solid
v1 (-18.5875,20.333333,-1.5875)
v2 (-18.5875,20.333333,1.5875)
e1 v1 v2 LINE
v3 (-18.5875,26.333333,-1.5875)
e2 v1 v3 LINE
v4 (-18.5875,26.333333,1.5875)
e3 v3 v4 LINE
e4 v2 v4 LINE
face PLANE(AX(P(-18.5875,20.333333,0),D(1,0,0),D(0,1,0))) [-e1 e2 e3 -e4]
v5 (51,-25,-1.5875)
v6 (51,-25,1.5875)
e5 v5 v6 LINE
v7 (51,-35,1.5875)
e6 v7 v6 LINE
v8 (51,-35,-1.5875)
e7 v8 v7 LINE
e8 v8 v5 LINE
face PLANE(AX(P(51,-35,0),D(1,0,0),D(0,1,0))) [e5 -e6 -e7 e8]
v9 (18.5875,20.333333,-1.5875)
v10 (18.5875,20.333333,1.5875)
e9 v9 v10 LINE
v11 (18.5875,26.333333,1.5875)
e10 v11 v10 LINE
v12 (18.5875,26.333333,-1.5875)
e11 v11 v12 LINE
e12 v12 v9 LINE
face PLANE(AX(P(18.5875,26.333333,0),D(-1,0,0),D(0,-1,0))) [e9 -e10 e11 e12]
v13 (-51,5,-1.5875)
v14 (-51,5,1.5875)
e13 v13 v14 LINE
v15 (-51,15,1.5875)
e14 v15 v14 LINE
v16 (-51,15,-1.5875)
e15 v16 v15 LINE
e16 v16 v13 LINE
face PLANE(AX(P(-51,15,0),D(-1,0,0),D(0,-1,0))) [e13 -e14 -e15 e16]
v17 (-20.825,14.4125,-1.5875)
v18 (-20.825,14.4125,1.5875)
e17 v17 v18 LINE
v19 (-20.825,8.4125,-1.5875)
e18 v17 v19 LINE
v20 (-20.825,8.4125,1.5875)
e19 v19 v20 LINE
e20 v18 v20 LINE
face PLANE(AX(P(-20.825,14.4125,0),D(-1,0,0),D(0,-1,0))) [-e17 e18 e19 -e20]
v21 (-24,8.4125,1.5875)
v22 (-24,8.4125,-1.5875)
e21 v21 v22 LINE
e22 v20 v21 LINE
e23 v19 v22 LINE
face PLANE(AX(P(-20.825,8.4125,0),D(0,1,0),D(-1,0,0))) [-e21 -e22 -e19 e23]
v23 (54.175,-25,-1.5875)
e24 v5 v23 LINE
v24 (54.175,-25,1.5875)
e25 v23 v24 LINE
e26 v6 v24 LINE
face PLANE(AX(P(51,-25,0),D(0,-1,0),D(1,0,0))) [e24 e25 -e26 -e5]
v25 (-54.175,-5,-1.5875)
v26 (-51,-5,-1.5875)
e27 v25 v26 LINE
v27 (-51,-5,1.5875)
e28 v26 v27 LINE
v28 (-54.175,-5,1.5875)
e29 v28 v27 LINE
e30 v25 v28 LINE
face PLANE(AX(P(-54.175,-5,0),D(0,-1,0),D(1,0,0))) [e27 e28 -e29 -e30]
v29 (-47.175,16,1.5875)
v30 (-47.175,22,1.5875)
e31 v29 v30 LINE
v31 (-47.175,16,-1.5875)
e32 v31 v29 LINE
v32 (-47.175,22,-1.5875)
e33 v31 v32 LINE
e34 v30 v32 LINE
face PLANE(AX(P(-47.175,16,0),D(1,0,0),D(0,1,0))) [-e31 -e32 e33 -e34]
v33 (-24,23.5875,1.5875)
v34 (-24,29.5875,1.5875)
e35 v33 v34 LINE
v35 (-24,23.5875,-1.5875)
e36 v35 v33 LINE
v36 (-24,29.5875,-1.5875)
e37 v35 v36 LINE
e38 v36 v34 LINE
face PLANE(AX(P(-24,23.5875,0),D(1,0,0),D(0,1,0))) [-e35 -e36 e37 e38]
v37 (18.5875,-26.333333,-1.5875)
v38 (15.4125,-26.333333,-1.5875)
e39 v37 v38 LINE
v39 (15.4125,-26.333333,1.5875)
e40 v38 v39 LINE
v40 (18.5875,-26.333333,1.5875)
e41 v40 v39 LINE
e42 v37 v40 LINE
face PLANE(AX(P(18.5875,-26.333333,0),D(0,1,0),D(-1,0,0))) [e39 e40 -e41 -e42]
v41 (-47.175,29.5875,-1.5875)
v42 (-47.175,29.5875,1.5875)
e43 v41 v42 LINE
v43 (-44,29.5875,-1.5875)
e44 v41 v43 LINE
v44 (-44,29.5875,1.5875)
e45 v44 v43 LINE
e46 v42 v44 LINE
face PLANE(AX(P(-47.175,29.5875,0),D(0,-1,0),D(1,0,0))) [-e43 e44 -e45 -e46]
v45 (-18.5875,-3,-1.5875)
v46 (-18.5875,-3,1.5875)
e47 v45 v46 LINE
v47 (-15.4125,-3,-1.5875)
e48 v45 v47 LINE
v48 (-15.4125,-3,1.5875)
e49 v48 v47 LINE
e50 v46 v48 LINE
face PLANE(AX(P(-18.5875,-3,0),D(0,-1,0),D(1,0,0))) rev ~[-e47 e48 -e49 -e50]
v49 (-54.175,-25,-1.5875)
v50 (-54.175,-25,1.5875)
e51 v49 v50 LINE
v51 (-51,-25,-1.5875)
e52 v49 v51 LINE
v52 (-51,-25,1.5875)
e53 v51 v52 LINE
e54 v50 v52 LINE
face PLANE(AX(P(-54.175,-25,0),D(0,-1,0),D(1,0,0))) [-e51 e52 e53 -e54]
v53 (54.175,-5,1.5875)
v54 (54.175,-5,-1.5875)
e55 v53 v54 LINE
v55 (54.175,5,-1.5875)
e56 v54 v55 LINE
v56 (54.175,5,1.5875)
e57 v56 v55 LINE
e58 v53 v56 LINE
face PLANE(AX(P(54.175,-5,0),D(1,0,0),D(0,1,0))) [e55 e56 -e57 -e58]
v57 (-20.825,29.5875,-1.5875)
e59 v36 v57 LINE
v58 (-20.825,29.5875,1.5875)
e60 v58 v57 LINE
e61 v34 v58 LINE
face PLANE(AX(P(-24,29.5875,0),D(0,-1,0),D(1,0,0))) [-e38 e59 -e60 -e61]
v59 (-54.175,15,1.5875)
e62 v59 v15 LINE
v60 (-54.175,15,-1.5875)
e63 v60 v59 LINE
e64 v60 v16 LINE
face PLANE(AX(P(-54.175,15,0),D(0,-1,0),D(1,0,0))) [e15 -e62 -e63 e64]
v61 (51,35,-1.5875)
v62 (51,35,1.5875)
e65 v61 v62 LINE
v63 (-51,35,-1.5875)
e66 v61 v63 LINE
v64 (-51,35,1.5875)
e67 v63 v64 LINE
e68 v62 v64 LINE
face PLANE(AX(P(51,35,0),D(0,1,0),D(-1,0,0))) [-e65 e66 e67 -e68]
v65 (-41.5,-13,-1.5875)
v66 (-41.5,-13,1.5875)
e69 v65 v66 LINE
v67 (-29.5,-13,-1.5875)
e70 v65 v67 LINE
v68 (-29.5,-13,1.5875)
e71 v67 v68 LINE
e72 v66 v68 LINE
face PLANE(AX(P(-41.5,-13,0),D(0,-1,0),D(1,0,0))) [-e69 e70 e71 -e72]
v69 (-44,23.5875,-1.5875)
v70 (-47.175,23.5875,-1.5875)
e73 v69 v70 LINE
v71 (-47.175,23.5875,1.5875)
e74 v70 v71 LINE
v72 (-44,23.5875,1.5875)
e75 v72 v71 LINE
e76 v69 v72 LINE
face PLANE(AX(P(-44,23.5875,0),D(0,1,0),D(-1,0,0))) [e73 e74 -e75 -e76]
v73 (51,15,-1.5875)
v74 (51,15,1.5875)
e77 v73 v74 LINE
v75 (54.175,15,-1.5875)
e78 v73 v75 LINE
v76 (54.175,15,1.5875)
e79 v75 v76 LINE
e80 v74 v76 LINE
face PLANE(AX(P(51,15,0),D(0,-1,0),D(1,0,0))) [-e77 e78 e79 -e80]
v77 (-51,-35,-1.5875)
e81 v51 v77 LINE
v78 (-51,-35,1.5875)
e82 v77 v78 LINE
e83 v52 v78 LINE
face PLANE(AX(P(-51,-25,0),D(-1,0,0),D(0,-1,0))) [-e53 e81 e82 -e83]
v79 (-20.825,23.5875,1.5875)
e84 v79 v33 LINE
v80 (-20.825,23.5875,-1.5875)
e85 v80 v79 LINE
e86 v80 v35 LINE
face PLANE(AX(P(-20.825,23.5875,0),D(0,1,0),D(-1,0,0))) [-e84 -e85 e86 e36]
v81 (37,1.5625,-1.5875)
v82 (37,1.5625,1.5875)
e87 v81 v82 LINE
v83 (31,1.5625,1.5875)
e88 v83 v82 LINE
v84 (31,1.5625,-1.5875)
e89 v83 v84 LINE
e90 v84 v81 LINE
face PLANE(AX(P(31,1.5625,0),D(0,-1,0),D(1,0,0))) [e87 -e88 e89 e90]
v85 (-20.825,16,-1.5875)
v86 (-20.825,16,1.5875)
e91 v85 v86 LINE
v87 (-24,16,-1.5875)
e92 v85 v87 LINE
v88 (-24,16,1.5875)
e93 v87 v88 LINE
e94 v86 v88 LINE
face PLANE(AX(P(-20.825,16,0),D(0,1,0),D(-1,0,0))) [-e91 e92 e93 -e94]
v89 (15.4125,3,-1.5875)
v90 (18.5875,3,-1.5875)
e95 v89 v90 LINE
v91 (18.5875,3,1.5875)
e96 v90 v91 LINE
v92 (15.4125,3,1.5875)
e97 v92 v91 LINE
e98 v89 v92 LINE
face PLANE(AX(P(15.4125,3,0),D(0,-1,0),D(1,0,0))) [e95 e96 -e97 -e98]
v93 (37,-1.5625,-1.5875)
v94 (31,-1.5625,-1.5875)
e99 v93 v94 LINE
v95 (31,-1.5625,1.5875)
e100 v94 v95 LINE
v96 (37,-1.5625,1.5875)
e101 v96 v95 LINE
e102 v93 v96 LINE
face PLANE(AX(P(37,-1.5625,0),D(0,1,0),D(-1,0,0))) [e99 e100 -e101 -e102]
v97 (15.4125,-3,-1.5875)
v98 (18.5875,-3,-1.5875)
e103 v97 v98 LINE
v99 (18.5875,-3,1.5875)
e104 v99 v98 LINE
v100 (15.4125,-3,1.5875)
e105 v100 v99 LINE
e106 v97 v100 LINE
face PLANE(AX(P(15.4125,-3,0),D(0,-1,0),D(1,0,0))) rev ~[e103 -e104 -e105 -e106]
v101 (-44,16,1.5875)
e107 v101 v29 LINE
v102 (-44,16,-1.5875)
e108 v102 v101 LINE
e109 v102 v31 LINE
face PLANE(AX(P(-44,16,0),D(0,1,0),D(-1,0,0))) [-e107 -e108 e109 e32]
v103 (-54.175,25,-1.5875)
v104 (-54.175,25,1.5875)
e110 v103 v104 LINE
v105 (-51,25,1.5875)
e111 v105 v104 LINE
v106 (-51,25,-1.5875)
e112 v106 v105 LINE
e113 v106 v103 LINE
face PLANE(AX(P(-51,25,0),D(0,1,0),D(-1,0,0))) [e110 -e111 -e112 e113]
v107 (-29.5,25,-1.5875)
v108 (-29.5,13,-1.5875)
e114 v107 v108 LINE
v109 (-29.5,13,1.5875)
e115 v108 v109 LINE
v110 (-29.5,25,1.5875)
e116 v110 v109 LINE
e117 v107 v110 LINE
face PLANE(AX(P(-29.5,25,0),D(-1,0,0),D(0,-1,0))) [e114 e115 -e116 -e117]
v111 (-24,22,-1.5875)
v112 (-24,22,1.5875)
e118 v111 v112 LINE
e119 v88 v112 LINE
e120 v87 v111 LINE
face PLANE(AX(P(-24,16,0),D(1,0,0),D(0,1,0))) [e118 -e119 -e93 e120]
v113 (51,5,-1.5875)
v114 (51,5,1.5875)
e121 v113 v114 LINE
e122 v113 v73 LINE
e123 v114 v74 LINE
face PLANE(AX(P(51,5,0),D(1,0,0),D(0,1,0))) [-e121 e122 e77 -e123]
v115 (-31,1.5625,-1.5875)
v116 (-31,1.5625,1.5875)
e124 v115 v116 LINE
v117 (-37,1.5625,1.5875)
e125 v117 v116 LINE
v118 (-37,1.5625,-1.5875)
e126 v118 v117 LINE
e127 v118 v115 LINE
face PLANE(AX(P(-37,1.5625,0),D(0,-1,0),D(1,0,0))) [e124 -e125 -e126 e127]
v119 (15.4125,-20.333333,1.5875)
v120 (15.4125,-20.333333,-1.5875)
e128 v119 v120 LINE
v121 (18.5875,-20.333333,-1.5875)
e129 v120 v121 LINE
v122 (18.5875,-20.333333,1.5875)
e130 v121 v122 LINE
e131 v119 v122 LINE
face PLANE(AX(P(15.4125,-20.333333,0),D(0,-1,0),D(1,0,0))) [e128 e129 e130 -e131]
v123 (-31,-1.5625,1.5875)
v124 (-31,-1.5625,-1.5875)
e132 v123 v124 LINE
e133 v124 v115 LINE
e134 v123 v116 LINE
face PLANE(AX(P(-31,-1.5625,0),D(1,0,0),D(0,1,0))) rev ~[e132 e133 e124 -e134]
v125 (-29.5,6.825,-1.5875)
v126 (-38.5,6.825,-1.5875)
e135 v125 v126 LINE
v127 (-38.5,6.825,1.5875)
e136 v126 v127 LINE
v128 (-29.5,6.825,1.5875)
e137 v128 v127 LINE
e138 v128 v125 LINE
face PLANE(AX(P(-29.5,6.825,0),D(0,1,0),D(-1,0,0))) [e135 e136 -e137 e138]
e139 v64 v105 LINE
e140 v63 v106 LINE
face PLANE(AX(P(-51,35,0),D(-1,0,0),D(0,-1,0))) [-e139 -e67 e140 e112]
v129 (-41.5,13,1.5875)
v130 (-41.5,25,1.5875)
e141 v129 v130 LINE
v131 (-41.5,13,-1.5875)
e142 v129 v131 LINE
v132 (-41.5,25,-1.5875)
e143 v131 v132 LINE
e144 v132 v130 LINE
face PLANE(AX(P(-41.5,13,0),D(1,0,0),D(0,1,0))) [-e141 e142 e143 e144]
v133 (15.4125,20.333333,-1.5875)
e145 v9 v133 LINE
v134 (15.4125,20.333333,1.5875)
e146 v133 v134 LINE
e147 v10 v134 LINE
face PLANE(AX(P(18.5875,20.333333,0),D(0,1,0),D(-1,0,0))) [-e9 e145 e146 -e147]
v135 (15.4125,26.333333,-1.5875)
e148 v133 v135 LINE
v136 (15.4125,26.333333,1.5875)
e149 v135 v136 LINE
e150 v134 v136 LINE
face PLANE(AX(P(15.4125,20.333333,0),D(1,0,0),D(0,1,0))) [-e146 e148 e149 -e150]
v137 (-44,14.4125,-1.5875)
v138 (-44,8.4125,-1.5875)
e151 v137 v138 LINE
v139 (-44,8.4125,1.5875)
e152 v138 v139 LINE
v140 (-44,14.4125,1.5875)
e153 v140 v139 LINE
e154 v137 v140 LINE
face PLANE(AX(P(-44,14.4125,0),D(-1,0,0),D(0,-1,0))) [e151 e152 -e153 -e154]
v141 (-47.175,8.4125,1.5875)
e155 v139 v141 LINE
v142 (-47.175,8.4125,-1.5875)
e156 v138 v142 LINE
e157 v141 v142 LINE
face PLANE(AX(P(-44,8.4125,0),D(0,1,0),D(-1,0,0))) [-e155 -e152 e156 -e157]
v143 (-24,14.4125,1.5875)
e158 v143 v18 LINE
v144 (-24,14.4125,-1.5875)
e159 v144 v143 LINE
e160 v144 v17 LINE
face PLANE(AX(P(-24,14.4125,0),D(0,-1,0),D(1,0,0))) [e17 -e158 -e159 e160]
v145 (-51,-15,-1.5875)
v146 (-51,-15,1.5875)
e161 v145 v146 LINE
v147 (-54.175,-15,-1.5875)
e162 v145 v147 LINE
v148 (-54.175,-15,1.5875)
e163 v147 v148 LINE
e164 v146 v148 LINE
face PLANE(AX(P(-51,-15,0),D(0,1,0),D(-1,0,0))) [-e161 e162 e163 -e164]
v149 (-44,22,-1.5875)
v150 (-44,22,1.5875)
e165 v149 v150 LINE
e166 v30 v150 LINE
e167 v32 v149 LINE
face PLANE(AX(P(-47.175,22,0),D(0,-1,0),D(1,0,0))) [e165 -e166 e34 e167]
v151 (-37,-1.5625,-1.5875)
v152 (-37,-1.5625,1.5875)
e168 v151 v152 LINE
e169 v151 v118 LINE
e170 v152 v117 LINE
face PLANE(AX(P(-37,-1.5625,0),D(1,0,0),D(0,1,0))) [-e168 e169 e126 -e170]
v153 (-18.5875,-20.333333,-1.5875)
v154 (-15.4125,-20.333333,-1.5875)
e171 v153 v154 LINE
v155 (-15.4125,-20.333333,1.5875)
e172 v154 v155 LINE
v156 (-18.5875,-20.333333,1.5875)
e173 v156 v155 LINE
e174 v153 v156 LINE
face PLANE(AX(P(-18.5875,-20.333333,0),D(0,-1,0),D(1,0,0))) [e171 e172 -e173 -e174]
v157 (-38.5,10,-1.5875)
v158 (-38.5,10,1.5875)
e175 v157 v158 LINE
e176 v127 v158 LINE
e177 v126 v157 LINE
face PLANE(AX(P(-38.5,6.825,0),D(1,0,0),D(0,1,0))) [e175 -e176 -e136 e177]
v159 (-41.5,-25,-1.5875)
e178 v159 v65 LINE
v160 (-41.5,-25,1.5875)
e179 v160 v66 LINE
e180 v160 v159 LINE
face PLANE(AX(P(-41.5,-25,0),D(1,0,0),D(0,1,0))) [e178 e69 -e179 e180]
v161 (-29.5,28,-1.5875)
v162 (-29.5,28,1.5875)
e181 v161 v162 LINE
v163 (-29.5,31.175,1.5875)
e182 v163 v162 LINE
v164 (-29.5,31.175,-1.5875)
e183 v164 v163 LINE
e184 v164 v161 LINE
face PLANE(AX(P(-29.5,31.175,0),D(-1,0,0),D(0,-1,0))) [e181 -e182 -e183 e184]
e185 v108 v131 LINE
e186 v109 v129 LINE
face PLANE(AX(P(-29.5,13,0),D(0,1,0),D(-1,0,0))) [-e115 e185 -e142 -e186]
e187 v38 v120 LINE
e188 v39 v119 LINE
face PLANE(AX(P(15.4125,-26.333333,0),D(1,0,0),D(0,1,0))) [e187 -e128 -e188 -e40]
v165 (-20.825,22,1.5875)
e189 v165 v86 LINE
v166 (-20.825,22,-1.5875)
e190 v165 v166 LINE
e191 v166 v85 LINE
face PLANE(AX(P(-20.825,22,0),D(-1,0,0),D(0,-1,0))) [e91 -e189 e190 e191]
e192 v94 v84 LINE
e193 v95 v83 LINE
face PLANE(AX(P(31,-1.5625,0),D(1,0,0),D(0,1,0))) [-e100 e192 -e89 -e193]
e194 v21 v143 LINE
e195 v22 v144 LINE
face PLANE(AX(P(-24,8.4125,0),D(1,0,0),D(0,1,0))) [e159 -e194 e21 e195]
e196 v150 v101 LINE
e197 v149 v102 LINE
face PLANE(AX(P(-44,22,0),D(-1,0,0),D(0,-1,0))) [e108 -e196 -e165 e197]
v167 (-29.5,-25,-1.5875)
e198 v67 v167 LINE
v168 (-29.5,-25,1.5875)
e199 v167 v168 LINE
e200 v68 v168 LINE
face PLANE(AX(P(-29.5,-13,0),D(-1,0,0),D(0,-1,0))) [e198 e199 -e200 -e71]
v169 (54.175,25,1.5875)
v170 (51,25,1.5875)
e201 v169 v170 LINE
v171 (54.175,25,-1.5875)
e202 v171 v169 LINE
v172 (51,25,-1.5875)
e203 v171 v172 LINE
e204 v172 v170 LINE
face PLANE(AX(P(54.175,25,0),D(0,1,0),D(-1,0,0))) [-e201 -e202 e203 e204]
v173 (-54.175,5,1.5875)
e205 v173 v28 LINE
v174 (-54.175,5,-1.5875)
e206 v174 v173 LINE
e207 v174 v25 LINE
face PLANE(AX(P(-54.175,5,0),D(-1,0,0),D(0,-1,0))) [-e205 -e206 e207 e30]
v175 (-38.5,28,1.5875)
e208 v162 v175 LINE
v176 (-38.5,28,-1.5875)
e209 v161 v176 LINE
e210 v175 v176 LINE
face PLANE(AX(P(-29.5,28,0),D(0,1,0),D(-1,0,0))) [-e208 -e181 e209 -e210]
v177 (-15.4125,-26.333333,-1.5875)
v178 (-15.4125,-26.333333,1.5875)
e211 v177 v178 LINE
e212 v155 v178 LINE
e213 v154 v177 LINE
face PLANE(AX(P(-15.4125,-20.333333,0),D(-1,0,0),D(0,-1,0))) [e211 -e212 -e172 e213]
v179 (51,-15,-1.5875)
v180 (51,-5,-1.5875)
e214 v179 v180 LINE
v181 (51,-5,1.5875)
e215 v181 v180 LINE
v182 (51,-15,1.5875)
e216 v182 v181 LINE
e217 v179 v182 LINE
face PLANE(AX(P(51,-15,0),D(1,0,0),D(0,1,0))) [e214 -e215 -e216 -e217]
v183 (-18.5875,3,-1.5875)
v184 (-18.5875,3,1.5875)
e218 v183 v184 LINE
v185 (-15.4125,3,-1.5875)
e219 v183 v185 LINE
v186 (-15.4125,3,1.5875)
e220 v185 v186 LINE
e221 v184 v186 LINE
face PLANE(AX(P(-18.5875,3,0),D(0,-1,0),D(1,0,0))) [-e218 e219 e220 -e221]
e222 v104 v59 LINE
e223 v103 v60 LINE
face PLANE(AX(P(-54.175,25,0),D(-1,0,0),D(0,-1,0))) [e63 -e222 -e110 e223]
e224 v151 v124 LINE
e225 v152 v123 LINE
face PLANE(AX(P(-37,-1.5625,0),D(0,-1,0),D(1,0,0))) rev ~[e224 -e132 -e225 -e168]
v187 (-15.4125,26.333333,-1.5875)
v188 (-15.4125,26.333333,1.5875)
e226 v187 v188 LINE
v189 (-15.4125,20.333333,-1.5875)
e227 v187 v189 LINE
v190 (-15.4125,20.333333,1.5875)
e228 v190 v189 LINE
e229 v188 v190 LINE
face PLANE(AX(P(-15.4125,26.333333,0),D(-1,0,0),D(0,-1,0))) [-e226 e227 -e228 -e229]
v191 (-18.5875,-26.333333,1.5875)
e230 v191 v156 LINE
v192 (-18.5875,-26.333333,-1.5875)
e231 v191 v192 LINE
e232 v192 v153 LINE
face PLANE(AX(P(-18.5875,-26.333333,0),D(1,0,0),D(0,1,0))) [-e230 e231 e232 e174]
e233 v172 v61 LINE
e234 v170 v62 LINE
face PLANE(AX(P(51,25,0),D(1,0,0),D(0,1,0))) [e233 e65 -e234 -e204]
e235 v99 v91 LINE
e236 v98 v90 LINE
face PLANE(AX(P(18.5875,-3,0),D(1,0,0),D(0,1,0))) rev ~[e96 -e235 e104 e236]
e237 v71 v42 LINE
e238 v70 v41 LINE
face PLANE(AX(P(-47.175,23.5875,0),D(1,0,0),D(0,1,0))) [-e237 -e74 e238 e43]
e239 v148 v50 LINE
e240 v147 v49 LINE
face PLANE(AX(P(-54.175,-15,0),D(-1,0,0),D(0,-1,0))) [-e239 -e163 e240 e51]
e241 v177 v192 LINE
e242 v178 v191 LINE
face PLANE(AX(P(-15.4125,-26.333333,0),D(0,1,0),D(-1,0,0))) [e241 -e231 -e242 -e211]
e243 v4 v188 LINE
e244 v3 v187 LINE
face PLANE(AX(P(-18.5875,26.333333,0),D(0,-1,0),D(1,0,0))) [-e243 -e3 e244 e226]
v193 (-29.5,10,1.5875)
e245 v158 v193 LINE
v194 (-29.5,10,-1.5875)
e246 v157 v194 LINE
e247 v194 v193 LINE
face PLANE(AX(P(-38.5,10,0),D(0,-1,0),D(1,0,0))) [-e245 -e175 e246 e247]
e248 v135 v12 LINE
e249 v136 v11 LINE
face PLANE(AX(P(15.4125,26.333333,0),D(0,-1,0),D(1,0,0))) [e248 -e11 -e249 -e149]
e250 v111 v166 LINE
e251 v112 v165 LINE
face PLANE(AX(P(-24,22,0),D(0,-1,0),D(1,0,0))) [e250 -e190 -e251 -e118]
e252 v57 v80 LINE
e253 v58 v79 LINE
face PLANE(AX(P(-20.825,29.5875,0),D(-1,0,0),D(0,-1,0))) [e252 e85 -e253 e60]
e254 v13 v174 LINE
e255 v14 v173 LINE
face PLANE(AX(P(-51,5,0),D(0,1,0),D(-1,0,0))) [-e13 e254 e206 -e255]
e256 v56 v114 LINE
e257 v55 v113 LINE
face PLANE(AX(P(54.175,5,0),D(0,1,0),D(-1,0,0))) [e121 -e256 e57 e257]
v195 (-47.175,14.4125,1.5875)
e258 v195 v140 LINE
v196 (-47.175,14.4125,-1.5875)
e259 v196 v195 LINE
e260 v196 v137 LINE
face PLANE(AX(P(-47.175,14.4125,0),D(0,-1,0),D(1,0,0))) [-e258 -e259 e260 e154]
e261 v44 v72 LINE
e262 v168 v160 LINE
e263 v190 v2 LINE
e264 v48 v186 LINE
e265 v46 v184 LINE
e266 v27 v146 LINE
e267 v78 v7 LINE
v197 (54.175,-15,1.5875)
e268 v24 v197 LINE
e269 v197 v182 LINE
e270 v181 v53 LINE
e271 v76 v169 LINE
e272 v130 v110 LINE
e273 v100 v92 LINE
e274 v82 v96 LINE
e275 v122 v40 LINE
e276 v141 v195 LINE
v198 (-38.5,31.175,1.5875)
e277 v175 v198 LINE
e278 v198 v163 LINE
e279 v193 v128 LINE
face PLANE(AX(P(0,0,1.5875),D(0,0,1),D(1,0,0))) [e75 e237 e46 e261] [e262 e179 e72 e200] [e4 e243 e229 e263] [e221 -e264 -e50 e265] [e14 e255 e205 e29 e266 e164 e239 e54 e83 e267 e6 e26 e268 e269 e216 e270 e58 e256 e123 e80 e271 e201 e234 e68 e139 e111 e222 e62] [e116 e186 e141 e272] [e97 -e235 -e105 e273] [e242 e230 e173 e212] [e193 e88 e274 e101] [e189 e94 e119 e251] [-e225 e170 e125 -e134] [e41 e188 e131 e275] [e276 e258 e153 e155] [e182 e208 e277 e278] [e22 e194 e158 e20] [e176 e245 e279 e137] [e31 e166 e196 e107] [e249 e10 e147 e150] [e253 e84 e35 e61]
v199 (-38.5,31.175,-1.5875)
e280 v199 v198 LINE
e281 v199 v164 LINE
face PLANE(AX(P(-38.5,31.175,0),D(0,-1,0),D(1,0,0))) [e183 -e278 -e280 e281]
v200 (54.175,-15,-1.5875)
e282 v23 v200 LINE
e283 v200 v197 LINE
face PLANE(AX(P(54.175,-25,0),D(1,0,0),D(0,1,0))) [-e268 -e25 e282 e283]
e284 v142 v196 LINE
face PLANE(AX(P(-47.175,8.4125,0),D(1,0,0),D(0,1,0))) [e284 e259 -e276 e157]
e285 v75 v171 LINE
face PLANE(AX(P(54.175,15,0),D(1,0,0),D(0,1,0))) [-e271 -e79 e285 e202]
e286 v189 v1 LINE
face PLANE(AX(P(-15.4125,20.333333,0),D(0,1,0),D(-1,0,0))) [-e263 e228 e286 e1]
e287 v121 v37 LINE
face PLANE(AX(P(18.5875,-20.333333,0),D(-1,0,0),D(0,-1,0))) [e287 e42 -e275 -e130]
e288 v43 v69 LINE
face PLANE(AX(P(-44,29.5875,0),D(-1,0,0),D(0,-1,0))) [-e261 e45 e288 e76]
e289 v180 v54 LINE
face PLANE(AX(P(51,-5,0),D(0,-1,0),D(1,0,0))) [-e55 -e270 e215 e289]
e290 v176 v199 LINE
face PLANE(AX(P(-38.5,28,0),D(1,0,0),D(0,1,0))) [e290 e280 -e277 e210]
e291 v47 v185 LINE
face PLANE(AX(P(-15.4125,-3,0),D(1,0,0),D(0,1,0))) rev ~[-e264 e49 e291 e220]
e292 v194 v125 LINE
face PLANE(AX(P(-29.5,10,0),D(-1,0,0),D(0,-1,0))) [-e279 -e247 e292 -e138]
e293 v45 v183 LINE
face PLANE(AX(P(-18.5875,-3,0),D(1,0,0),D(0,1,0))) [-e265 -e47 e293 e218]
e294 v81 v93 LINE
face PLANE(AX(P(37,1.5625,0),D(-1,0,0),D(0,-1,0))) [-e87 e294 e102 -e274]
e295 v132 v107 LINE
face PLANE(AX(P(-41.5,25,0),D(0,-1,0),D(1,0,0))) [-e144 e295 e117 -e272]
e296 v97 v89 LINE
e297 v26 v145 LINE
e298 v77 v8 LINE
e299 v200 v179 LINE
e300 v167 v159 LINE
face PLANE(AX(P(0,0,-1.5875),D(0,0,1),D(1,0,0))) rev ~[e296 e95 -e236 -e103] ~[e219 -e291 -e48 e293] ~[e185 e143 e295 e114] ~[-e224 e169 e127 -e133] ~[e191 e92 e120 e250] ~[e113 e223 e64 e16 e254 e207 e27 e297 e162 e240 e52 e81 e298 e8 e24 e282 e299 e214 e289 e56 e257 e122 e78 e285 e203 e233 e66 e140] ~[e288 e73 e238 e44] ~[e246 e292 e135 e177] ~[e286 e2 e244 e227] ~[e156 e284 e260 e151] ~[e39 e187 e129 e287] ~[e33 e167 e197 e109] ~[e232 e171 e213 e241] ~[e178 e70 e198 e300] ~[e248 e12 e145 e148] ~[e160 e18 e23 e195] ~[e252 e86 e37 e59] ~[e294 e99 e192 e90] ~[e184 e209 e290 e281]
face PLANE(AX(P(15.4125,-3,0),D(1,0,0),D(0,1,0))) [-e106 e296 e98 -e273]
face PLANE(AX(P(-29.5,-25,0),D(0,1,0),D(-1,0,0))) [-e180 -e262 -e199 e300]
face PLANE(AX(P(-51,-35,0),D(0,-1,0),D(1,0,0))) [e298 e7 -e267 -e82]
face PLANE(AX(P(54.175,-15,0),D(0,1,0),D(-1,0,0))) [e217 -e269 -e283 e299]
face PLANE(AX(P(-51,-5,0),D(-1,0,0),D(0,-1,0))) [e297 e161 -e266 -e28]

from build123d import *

# Parameters (mm, degrees)
SKETCH1_W           = 6
SKETCH1_H           = 3.125
SKETCH1_W_2         = 3.175
SKETCH1_H_2         = 6
BOSS_EXTRUDE1_DEPTH = 1.5875


with BuildPart() as part:
    # Sketch1 → Boss-Extrude1 (new body, symmetric)
    with BuildSketch(Plane.XY):
        Polygon((54.175, 0), (54.175, 5), (51, 5), (51, 15), (54.175, 15), (54.175, 25), (51, 25), (51, 35), (17, 35), (0, 35), (-17, 35), (-51, 35), (-51, 25), (-54.175, 25), (-54.175, 15), (-51, 15), (-51, 5), (-54.175, 5), (-54.175, -5), (-51, -5), (-51, -15), (-54.175, -15), (-54.175, -25), (-51, -25), (-51, -35), (0, -35), (51, -35), (51, -25), (54.175, -25), (54.175, -15), (51, -15), (51, -5), (54.175, -5), align=None)
        Polygon((-41.5, -13), (-34, -13), (-29.5, -13), (-29.5, -25), (-34, -25), (-41.5, -25), align=None, mode=Mode.SUBTRACT)
        Polygon((-18.5875, -23.333333333), (-18.5875, -20.333333333), (-15.4125, -20.333333333), (-15.4125, -26.333333333), (-18.5875, -26.333333333), align=None, mode=Mode.SUBTRACT)
        Polygon((18.5875, -20.333333333), (18.5875, -23.333333333), (18.5875, -26.333333333), (15.4125, -26.333333333), (15.4125, -20.333333333), align=None, mode=Mode.SUBTRACT)
        with Locations((-34, 0)):
            Rectangle(SKETCH1_W, SKETCH1_H, mode=Mode.SUBTRACT)
        Polygon((-38.5, 6.825), (-38.5, 10), (-34, 10), (-29.5, 10), (-29.5, 6.825), align=None, mode=Mode.SUBTRACT)
        Polygon((-47.175, 14.4125), (-45.5875, 14.4125), (-44, 14.4125), (-44, 8.4125), (-47.175, 8.4125), align=None, mode=Mode.SUBTRACT)
        with Locations((-17, 0)):
            Rectangle(SKETCH1_W_2, SKETCH1_H_2, mode=Mode.SUBTRACT)
        Polygon((-24, 14.4125), (-22.4125, 14.4125), (-20.825, 14.4125), (-20.825, 8.4125), (-24, 8.4125), align=None, mode=Mode.SUBTRACT)
        Polygon((-44, 22), (-44, 19), (-44, 16), (-45.5875, 16), (-47.175, 16), (-47.175, 22), (-45.5875, 22), align=None, mode=Mode.SUBTRACT)
        Polygon((-41.5, 25), (-34, 25), (-29.5, 25), (-29.5, 13), (-34, 13), (-41.5, 13), align=None, mode=Mode.SUBTRACT)
        Polygon((-44, 23.5875), (-45.5875, 23.5875), (-47.175, 23.5875), (-47.175, 29.5875), (-44, 29.5875), align=None, mode=Mode.SUBTRACT)
        Polygon((-38.5, 31.175), (-29.5, 31.175), (-29.5, 28), (-34, 28), (-38.5, 28), align=None, mode=Mode.SUBTRACT)
        Polygon((-20.825, 16), (-22.4125, 16), (-24, 16), (-24, 19), (-24, 22), (-22.4125, 22), (-20.825, 22), align=None, mode=Mode.SUBTRACT)
        Polygon((-18.5875, 20.333333333), (-18.5875, 23.333333333), (-18.5875, 26.333333333), (-15.4125, 26.333333333), (-15.4125, 20.333333333), align=None, mode=Mode.SUBTRACT)
        Polygon((-20.825, 23.5875), (-22.4125, 23.5875), (-24, 23.5875), (-24, 29.5875), (-20.825, 29.5875), align=None, mode=Mode.SUBTRACT)
        with Locations((17, 0)):
            Rectangle(SKETCH1_W_2, SKETCH1_H_2, mode=Mode.SUBTRACT)
        Polygon((37, 1.5625), (37, 0), (37, -1.5625), (31, -1.5625), (31, 1.5625), align=None, mode=Mode.SUBTRACT)
        Polygon((18.5875, 23.333333333), (18.5875, 20.333333333), (15.4125, 20.333333333), (15.4125, 26.333333333), (18.5875, 26.333333333), align=None, mode=Mode.SUBTRACT)
    extrude(amount=BOSS_EXTRUDE1_DEPTH, both=True)


solid = part.part
